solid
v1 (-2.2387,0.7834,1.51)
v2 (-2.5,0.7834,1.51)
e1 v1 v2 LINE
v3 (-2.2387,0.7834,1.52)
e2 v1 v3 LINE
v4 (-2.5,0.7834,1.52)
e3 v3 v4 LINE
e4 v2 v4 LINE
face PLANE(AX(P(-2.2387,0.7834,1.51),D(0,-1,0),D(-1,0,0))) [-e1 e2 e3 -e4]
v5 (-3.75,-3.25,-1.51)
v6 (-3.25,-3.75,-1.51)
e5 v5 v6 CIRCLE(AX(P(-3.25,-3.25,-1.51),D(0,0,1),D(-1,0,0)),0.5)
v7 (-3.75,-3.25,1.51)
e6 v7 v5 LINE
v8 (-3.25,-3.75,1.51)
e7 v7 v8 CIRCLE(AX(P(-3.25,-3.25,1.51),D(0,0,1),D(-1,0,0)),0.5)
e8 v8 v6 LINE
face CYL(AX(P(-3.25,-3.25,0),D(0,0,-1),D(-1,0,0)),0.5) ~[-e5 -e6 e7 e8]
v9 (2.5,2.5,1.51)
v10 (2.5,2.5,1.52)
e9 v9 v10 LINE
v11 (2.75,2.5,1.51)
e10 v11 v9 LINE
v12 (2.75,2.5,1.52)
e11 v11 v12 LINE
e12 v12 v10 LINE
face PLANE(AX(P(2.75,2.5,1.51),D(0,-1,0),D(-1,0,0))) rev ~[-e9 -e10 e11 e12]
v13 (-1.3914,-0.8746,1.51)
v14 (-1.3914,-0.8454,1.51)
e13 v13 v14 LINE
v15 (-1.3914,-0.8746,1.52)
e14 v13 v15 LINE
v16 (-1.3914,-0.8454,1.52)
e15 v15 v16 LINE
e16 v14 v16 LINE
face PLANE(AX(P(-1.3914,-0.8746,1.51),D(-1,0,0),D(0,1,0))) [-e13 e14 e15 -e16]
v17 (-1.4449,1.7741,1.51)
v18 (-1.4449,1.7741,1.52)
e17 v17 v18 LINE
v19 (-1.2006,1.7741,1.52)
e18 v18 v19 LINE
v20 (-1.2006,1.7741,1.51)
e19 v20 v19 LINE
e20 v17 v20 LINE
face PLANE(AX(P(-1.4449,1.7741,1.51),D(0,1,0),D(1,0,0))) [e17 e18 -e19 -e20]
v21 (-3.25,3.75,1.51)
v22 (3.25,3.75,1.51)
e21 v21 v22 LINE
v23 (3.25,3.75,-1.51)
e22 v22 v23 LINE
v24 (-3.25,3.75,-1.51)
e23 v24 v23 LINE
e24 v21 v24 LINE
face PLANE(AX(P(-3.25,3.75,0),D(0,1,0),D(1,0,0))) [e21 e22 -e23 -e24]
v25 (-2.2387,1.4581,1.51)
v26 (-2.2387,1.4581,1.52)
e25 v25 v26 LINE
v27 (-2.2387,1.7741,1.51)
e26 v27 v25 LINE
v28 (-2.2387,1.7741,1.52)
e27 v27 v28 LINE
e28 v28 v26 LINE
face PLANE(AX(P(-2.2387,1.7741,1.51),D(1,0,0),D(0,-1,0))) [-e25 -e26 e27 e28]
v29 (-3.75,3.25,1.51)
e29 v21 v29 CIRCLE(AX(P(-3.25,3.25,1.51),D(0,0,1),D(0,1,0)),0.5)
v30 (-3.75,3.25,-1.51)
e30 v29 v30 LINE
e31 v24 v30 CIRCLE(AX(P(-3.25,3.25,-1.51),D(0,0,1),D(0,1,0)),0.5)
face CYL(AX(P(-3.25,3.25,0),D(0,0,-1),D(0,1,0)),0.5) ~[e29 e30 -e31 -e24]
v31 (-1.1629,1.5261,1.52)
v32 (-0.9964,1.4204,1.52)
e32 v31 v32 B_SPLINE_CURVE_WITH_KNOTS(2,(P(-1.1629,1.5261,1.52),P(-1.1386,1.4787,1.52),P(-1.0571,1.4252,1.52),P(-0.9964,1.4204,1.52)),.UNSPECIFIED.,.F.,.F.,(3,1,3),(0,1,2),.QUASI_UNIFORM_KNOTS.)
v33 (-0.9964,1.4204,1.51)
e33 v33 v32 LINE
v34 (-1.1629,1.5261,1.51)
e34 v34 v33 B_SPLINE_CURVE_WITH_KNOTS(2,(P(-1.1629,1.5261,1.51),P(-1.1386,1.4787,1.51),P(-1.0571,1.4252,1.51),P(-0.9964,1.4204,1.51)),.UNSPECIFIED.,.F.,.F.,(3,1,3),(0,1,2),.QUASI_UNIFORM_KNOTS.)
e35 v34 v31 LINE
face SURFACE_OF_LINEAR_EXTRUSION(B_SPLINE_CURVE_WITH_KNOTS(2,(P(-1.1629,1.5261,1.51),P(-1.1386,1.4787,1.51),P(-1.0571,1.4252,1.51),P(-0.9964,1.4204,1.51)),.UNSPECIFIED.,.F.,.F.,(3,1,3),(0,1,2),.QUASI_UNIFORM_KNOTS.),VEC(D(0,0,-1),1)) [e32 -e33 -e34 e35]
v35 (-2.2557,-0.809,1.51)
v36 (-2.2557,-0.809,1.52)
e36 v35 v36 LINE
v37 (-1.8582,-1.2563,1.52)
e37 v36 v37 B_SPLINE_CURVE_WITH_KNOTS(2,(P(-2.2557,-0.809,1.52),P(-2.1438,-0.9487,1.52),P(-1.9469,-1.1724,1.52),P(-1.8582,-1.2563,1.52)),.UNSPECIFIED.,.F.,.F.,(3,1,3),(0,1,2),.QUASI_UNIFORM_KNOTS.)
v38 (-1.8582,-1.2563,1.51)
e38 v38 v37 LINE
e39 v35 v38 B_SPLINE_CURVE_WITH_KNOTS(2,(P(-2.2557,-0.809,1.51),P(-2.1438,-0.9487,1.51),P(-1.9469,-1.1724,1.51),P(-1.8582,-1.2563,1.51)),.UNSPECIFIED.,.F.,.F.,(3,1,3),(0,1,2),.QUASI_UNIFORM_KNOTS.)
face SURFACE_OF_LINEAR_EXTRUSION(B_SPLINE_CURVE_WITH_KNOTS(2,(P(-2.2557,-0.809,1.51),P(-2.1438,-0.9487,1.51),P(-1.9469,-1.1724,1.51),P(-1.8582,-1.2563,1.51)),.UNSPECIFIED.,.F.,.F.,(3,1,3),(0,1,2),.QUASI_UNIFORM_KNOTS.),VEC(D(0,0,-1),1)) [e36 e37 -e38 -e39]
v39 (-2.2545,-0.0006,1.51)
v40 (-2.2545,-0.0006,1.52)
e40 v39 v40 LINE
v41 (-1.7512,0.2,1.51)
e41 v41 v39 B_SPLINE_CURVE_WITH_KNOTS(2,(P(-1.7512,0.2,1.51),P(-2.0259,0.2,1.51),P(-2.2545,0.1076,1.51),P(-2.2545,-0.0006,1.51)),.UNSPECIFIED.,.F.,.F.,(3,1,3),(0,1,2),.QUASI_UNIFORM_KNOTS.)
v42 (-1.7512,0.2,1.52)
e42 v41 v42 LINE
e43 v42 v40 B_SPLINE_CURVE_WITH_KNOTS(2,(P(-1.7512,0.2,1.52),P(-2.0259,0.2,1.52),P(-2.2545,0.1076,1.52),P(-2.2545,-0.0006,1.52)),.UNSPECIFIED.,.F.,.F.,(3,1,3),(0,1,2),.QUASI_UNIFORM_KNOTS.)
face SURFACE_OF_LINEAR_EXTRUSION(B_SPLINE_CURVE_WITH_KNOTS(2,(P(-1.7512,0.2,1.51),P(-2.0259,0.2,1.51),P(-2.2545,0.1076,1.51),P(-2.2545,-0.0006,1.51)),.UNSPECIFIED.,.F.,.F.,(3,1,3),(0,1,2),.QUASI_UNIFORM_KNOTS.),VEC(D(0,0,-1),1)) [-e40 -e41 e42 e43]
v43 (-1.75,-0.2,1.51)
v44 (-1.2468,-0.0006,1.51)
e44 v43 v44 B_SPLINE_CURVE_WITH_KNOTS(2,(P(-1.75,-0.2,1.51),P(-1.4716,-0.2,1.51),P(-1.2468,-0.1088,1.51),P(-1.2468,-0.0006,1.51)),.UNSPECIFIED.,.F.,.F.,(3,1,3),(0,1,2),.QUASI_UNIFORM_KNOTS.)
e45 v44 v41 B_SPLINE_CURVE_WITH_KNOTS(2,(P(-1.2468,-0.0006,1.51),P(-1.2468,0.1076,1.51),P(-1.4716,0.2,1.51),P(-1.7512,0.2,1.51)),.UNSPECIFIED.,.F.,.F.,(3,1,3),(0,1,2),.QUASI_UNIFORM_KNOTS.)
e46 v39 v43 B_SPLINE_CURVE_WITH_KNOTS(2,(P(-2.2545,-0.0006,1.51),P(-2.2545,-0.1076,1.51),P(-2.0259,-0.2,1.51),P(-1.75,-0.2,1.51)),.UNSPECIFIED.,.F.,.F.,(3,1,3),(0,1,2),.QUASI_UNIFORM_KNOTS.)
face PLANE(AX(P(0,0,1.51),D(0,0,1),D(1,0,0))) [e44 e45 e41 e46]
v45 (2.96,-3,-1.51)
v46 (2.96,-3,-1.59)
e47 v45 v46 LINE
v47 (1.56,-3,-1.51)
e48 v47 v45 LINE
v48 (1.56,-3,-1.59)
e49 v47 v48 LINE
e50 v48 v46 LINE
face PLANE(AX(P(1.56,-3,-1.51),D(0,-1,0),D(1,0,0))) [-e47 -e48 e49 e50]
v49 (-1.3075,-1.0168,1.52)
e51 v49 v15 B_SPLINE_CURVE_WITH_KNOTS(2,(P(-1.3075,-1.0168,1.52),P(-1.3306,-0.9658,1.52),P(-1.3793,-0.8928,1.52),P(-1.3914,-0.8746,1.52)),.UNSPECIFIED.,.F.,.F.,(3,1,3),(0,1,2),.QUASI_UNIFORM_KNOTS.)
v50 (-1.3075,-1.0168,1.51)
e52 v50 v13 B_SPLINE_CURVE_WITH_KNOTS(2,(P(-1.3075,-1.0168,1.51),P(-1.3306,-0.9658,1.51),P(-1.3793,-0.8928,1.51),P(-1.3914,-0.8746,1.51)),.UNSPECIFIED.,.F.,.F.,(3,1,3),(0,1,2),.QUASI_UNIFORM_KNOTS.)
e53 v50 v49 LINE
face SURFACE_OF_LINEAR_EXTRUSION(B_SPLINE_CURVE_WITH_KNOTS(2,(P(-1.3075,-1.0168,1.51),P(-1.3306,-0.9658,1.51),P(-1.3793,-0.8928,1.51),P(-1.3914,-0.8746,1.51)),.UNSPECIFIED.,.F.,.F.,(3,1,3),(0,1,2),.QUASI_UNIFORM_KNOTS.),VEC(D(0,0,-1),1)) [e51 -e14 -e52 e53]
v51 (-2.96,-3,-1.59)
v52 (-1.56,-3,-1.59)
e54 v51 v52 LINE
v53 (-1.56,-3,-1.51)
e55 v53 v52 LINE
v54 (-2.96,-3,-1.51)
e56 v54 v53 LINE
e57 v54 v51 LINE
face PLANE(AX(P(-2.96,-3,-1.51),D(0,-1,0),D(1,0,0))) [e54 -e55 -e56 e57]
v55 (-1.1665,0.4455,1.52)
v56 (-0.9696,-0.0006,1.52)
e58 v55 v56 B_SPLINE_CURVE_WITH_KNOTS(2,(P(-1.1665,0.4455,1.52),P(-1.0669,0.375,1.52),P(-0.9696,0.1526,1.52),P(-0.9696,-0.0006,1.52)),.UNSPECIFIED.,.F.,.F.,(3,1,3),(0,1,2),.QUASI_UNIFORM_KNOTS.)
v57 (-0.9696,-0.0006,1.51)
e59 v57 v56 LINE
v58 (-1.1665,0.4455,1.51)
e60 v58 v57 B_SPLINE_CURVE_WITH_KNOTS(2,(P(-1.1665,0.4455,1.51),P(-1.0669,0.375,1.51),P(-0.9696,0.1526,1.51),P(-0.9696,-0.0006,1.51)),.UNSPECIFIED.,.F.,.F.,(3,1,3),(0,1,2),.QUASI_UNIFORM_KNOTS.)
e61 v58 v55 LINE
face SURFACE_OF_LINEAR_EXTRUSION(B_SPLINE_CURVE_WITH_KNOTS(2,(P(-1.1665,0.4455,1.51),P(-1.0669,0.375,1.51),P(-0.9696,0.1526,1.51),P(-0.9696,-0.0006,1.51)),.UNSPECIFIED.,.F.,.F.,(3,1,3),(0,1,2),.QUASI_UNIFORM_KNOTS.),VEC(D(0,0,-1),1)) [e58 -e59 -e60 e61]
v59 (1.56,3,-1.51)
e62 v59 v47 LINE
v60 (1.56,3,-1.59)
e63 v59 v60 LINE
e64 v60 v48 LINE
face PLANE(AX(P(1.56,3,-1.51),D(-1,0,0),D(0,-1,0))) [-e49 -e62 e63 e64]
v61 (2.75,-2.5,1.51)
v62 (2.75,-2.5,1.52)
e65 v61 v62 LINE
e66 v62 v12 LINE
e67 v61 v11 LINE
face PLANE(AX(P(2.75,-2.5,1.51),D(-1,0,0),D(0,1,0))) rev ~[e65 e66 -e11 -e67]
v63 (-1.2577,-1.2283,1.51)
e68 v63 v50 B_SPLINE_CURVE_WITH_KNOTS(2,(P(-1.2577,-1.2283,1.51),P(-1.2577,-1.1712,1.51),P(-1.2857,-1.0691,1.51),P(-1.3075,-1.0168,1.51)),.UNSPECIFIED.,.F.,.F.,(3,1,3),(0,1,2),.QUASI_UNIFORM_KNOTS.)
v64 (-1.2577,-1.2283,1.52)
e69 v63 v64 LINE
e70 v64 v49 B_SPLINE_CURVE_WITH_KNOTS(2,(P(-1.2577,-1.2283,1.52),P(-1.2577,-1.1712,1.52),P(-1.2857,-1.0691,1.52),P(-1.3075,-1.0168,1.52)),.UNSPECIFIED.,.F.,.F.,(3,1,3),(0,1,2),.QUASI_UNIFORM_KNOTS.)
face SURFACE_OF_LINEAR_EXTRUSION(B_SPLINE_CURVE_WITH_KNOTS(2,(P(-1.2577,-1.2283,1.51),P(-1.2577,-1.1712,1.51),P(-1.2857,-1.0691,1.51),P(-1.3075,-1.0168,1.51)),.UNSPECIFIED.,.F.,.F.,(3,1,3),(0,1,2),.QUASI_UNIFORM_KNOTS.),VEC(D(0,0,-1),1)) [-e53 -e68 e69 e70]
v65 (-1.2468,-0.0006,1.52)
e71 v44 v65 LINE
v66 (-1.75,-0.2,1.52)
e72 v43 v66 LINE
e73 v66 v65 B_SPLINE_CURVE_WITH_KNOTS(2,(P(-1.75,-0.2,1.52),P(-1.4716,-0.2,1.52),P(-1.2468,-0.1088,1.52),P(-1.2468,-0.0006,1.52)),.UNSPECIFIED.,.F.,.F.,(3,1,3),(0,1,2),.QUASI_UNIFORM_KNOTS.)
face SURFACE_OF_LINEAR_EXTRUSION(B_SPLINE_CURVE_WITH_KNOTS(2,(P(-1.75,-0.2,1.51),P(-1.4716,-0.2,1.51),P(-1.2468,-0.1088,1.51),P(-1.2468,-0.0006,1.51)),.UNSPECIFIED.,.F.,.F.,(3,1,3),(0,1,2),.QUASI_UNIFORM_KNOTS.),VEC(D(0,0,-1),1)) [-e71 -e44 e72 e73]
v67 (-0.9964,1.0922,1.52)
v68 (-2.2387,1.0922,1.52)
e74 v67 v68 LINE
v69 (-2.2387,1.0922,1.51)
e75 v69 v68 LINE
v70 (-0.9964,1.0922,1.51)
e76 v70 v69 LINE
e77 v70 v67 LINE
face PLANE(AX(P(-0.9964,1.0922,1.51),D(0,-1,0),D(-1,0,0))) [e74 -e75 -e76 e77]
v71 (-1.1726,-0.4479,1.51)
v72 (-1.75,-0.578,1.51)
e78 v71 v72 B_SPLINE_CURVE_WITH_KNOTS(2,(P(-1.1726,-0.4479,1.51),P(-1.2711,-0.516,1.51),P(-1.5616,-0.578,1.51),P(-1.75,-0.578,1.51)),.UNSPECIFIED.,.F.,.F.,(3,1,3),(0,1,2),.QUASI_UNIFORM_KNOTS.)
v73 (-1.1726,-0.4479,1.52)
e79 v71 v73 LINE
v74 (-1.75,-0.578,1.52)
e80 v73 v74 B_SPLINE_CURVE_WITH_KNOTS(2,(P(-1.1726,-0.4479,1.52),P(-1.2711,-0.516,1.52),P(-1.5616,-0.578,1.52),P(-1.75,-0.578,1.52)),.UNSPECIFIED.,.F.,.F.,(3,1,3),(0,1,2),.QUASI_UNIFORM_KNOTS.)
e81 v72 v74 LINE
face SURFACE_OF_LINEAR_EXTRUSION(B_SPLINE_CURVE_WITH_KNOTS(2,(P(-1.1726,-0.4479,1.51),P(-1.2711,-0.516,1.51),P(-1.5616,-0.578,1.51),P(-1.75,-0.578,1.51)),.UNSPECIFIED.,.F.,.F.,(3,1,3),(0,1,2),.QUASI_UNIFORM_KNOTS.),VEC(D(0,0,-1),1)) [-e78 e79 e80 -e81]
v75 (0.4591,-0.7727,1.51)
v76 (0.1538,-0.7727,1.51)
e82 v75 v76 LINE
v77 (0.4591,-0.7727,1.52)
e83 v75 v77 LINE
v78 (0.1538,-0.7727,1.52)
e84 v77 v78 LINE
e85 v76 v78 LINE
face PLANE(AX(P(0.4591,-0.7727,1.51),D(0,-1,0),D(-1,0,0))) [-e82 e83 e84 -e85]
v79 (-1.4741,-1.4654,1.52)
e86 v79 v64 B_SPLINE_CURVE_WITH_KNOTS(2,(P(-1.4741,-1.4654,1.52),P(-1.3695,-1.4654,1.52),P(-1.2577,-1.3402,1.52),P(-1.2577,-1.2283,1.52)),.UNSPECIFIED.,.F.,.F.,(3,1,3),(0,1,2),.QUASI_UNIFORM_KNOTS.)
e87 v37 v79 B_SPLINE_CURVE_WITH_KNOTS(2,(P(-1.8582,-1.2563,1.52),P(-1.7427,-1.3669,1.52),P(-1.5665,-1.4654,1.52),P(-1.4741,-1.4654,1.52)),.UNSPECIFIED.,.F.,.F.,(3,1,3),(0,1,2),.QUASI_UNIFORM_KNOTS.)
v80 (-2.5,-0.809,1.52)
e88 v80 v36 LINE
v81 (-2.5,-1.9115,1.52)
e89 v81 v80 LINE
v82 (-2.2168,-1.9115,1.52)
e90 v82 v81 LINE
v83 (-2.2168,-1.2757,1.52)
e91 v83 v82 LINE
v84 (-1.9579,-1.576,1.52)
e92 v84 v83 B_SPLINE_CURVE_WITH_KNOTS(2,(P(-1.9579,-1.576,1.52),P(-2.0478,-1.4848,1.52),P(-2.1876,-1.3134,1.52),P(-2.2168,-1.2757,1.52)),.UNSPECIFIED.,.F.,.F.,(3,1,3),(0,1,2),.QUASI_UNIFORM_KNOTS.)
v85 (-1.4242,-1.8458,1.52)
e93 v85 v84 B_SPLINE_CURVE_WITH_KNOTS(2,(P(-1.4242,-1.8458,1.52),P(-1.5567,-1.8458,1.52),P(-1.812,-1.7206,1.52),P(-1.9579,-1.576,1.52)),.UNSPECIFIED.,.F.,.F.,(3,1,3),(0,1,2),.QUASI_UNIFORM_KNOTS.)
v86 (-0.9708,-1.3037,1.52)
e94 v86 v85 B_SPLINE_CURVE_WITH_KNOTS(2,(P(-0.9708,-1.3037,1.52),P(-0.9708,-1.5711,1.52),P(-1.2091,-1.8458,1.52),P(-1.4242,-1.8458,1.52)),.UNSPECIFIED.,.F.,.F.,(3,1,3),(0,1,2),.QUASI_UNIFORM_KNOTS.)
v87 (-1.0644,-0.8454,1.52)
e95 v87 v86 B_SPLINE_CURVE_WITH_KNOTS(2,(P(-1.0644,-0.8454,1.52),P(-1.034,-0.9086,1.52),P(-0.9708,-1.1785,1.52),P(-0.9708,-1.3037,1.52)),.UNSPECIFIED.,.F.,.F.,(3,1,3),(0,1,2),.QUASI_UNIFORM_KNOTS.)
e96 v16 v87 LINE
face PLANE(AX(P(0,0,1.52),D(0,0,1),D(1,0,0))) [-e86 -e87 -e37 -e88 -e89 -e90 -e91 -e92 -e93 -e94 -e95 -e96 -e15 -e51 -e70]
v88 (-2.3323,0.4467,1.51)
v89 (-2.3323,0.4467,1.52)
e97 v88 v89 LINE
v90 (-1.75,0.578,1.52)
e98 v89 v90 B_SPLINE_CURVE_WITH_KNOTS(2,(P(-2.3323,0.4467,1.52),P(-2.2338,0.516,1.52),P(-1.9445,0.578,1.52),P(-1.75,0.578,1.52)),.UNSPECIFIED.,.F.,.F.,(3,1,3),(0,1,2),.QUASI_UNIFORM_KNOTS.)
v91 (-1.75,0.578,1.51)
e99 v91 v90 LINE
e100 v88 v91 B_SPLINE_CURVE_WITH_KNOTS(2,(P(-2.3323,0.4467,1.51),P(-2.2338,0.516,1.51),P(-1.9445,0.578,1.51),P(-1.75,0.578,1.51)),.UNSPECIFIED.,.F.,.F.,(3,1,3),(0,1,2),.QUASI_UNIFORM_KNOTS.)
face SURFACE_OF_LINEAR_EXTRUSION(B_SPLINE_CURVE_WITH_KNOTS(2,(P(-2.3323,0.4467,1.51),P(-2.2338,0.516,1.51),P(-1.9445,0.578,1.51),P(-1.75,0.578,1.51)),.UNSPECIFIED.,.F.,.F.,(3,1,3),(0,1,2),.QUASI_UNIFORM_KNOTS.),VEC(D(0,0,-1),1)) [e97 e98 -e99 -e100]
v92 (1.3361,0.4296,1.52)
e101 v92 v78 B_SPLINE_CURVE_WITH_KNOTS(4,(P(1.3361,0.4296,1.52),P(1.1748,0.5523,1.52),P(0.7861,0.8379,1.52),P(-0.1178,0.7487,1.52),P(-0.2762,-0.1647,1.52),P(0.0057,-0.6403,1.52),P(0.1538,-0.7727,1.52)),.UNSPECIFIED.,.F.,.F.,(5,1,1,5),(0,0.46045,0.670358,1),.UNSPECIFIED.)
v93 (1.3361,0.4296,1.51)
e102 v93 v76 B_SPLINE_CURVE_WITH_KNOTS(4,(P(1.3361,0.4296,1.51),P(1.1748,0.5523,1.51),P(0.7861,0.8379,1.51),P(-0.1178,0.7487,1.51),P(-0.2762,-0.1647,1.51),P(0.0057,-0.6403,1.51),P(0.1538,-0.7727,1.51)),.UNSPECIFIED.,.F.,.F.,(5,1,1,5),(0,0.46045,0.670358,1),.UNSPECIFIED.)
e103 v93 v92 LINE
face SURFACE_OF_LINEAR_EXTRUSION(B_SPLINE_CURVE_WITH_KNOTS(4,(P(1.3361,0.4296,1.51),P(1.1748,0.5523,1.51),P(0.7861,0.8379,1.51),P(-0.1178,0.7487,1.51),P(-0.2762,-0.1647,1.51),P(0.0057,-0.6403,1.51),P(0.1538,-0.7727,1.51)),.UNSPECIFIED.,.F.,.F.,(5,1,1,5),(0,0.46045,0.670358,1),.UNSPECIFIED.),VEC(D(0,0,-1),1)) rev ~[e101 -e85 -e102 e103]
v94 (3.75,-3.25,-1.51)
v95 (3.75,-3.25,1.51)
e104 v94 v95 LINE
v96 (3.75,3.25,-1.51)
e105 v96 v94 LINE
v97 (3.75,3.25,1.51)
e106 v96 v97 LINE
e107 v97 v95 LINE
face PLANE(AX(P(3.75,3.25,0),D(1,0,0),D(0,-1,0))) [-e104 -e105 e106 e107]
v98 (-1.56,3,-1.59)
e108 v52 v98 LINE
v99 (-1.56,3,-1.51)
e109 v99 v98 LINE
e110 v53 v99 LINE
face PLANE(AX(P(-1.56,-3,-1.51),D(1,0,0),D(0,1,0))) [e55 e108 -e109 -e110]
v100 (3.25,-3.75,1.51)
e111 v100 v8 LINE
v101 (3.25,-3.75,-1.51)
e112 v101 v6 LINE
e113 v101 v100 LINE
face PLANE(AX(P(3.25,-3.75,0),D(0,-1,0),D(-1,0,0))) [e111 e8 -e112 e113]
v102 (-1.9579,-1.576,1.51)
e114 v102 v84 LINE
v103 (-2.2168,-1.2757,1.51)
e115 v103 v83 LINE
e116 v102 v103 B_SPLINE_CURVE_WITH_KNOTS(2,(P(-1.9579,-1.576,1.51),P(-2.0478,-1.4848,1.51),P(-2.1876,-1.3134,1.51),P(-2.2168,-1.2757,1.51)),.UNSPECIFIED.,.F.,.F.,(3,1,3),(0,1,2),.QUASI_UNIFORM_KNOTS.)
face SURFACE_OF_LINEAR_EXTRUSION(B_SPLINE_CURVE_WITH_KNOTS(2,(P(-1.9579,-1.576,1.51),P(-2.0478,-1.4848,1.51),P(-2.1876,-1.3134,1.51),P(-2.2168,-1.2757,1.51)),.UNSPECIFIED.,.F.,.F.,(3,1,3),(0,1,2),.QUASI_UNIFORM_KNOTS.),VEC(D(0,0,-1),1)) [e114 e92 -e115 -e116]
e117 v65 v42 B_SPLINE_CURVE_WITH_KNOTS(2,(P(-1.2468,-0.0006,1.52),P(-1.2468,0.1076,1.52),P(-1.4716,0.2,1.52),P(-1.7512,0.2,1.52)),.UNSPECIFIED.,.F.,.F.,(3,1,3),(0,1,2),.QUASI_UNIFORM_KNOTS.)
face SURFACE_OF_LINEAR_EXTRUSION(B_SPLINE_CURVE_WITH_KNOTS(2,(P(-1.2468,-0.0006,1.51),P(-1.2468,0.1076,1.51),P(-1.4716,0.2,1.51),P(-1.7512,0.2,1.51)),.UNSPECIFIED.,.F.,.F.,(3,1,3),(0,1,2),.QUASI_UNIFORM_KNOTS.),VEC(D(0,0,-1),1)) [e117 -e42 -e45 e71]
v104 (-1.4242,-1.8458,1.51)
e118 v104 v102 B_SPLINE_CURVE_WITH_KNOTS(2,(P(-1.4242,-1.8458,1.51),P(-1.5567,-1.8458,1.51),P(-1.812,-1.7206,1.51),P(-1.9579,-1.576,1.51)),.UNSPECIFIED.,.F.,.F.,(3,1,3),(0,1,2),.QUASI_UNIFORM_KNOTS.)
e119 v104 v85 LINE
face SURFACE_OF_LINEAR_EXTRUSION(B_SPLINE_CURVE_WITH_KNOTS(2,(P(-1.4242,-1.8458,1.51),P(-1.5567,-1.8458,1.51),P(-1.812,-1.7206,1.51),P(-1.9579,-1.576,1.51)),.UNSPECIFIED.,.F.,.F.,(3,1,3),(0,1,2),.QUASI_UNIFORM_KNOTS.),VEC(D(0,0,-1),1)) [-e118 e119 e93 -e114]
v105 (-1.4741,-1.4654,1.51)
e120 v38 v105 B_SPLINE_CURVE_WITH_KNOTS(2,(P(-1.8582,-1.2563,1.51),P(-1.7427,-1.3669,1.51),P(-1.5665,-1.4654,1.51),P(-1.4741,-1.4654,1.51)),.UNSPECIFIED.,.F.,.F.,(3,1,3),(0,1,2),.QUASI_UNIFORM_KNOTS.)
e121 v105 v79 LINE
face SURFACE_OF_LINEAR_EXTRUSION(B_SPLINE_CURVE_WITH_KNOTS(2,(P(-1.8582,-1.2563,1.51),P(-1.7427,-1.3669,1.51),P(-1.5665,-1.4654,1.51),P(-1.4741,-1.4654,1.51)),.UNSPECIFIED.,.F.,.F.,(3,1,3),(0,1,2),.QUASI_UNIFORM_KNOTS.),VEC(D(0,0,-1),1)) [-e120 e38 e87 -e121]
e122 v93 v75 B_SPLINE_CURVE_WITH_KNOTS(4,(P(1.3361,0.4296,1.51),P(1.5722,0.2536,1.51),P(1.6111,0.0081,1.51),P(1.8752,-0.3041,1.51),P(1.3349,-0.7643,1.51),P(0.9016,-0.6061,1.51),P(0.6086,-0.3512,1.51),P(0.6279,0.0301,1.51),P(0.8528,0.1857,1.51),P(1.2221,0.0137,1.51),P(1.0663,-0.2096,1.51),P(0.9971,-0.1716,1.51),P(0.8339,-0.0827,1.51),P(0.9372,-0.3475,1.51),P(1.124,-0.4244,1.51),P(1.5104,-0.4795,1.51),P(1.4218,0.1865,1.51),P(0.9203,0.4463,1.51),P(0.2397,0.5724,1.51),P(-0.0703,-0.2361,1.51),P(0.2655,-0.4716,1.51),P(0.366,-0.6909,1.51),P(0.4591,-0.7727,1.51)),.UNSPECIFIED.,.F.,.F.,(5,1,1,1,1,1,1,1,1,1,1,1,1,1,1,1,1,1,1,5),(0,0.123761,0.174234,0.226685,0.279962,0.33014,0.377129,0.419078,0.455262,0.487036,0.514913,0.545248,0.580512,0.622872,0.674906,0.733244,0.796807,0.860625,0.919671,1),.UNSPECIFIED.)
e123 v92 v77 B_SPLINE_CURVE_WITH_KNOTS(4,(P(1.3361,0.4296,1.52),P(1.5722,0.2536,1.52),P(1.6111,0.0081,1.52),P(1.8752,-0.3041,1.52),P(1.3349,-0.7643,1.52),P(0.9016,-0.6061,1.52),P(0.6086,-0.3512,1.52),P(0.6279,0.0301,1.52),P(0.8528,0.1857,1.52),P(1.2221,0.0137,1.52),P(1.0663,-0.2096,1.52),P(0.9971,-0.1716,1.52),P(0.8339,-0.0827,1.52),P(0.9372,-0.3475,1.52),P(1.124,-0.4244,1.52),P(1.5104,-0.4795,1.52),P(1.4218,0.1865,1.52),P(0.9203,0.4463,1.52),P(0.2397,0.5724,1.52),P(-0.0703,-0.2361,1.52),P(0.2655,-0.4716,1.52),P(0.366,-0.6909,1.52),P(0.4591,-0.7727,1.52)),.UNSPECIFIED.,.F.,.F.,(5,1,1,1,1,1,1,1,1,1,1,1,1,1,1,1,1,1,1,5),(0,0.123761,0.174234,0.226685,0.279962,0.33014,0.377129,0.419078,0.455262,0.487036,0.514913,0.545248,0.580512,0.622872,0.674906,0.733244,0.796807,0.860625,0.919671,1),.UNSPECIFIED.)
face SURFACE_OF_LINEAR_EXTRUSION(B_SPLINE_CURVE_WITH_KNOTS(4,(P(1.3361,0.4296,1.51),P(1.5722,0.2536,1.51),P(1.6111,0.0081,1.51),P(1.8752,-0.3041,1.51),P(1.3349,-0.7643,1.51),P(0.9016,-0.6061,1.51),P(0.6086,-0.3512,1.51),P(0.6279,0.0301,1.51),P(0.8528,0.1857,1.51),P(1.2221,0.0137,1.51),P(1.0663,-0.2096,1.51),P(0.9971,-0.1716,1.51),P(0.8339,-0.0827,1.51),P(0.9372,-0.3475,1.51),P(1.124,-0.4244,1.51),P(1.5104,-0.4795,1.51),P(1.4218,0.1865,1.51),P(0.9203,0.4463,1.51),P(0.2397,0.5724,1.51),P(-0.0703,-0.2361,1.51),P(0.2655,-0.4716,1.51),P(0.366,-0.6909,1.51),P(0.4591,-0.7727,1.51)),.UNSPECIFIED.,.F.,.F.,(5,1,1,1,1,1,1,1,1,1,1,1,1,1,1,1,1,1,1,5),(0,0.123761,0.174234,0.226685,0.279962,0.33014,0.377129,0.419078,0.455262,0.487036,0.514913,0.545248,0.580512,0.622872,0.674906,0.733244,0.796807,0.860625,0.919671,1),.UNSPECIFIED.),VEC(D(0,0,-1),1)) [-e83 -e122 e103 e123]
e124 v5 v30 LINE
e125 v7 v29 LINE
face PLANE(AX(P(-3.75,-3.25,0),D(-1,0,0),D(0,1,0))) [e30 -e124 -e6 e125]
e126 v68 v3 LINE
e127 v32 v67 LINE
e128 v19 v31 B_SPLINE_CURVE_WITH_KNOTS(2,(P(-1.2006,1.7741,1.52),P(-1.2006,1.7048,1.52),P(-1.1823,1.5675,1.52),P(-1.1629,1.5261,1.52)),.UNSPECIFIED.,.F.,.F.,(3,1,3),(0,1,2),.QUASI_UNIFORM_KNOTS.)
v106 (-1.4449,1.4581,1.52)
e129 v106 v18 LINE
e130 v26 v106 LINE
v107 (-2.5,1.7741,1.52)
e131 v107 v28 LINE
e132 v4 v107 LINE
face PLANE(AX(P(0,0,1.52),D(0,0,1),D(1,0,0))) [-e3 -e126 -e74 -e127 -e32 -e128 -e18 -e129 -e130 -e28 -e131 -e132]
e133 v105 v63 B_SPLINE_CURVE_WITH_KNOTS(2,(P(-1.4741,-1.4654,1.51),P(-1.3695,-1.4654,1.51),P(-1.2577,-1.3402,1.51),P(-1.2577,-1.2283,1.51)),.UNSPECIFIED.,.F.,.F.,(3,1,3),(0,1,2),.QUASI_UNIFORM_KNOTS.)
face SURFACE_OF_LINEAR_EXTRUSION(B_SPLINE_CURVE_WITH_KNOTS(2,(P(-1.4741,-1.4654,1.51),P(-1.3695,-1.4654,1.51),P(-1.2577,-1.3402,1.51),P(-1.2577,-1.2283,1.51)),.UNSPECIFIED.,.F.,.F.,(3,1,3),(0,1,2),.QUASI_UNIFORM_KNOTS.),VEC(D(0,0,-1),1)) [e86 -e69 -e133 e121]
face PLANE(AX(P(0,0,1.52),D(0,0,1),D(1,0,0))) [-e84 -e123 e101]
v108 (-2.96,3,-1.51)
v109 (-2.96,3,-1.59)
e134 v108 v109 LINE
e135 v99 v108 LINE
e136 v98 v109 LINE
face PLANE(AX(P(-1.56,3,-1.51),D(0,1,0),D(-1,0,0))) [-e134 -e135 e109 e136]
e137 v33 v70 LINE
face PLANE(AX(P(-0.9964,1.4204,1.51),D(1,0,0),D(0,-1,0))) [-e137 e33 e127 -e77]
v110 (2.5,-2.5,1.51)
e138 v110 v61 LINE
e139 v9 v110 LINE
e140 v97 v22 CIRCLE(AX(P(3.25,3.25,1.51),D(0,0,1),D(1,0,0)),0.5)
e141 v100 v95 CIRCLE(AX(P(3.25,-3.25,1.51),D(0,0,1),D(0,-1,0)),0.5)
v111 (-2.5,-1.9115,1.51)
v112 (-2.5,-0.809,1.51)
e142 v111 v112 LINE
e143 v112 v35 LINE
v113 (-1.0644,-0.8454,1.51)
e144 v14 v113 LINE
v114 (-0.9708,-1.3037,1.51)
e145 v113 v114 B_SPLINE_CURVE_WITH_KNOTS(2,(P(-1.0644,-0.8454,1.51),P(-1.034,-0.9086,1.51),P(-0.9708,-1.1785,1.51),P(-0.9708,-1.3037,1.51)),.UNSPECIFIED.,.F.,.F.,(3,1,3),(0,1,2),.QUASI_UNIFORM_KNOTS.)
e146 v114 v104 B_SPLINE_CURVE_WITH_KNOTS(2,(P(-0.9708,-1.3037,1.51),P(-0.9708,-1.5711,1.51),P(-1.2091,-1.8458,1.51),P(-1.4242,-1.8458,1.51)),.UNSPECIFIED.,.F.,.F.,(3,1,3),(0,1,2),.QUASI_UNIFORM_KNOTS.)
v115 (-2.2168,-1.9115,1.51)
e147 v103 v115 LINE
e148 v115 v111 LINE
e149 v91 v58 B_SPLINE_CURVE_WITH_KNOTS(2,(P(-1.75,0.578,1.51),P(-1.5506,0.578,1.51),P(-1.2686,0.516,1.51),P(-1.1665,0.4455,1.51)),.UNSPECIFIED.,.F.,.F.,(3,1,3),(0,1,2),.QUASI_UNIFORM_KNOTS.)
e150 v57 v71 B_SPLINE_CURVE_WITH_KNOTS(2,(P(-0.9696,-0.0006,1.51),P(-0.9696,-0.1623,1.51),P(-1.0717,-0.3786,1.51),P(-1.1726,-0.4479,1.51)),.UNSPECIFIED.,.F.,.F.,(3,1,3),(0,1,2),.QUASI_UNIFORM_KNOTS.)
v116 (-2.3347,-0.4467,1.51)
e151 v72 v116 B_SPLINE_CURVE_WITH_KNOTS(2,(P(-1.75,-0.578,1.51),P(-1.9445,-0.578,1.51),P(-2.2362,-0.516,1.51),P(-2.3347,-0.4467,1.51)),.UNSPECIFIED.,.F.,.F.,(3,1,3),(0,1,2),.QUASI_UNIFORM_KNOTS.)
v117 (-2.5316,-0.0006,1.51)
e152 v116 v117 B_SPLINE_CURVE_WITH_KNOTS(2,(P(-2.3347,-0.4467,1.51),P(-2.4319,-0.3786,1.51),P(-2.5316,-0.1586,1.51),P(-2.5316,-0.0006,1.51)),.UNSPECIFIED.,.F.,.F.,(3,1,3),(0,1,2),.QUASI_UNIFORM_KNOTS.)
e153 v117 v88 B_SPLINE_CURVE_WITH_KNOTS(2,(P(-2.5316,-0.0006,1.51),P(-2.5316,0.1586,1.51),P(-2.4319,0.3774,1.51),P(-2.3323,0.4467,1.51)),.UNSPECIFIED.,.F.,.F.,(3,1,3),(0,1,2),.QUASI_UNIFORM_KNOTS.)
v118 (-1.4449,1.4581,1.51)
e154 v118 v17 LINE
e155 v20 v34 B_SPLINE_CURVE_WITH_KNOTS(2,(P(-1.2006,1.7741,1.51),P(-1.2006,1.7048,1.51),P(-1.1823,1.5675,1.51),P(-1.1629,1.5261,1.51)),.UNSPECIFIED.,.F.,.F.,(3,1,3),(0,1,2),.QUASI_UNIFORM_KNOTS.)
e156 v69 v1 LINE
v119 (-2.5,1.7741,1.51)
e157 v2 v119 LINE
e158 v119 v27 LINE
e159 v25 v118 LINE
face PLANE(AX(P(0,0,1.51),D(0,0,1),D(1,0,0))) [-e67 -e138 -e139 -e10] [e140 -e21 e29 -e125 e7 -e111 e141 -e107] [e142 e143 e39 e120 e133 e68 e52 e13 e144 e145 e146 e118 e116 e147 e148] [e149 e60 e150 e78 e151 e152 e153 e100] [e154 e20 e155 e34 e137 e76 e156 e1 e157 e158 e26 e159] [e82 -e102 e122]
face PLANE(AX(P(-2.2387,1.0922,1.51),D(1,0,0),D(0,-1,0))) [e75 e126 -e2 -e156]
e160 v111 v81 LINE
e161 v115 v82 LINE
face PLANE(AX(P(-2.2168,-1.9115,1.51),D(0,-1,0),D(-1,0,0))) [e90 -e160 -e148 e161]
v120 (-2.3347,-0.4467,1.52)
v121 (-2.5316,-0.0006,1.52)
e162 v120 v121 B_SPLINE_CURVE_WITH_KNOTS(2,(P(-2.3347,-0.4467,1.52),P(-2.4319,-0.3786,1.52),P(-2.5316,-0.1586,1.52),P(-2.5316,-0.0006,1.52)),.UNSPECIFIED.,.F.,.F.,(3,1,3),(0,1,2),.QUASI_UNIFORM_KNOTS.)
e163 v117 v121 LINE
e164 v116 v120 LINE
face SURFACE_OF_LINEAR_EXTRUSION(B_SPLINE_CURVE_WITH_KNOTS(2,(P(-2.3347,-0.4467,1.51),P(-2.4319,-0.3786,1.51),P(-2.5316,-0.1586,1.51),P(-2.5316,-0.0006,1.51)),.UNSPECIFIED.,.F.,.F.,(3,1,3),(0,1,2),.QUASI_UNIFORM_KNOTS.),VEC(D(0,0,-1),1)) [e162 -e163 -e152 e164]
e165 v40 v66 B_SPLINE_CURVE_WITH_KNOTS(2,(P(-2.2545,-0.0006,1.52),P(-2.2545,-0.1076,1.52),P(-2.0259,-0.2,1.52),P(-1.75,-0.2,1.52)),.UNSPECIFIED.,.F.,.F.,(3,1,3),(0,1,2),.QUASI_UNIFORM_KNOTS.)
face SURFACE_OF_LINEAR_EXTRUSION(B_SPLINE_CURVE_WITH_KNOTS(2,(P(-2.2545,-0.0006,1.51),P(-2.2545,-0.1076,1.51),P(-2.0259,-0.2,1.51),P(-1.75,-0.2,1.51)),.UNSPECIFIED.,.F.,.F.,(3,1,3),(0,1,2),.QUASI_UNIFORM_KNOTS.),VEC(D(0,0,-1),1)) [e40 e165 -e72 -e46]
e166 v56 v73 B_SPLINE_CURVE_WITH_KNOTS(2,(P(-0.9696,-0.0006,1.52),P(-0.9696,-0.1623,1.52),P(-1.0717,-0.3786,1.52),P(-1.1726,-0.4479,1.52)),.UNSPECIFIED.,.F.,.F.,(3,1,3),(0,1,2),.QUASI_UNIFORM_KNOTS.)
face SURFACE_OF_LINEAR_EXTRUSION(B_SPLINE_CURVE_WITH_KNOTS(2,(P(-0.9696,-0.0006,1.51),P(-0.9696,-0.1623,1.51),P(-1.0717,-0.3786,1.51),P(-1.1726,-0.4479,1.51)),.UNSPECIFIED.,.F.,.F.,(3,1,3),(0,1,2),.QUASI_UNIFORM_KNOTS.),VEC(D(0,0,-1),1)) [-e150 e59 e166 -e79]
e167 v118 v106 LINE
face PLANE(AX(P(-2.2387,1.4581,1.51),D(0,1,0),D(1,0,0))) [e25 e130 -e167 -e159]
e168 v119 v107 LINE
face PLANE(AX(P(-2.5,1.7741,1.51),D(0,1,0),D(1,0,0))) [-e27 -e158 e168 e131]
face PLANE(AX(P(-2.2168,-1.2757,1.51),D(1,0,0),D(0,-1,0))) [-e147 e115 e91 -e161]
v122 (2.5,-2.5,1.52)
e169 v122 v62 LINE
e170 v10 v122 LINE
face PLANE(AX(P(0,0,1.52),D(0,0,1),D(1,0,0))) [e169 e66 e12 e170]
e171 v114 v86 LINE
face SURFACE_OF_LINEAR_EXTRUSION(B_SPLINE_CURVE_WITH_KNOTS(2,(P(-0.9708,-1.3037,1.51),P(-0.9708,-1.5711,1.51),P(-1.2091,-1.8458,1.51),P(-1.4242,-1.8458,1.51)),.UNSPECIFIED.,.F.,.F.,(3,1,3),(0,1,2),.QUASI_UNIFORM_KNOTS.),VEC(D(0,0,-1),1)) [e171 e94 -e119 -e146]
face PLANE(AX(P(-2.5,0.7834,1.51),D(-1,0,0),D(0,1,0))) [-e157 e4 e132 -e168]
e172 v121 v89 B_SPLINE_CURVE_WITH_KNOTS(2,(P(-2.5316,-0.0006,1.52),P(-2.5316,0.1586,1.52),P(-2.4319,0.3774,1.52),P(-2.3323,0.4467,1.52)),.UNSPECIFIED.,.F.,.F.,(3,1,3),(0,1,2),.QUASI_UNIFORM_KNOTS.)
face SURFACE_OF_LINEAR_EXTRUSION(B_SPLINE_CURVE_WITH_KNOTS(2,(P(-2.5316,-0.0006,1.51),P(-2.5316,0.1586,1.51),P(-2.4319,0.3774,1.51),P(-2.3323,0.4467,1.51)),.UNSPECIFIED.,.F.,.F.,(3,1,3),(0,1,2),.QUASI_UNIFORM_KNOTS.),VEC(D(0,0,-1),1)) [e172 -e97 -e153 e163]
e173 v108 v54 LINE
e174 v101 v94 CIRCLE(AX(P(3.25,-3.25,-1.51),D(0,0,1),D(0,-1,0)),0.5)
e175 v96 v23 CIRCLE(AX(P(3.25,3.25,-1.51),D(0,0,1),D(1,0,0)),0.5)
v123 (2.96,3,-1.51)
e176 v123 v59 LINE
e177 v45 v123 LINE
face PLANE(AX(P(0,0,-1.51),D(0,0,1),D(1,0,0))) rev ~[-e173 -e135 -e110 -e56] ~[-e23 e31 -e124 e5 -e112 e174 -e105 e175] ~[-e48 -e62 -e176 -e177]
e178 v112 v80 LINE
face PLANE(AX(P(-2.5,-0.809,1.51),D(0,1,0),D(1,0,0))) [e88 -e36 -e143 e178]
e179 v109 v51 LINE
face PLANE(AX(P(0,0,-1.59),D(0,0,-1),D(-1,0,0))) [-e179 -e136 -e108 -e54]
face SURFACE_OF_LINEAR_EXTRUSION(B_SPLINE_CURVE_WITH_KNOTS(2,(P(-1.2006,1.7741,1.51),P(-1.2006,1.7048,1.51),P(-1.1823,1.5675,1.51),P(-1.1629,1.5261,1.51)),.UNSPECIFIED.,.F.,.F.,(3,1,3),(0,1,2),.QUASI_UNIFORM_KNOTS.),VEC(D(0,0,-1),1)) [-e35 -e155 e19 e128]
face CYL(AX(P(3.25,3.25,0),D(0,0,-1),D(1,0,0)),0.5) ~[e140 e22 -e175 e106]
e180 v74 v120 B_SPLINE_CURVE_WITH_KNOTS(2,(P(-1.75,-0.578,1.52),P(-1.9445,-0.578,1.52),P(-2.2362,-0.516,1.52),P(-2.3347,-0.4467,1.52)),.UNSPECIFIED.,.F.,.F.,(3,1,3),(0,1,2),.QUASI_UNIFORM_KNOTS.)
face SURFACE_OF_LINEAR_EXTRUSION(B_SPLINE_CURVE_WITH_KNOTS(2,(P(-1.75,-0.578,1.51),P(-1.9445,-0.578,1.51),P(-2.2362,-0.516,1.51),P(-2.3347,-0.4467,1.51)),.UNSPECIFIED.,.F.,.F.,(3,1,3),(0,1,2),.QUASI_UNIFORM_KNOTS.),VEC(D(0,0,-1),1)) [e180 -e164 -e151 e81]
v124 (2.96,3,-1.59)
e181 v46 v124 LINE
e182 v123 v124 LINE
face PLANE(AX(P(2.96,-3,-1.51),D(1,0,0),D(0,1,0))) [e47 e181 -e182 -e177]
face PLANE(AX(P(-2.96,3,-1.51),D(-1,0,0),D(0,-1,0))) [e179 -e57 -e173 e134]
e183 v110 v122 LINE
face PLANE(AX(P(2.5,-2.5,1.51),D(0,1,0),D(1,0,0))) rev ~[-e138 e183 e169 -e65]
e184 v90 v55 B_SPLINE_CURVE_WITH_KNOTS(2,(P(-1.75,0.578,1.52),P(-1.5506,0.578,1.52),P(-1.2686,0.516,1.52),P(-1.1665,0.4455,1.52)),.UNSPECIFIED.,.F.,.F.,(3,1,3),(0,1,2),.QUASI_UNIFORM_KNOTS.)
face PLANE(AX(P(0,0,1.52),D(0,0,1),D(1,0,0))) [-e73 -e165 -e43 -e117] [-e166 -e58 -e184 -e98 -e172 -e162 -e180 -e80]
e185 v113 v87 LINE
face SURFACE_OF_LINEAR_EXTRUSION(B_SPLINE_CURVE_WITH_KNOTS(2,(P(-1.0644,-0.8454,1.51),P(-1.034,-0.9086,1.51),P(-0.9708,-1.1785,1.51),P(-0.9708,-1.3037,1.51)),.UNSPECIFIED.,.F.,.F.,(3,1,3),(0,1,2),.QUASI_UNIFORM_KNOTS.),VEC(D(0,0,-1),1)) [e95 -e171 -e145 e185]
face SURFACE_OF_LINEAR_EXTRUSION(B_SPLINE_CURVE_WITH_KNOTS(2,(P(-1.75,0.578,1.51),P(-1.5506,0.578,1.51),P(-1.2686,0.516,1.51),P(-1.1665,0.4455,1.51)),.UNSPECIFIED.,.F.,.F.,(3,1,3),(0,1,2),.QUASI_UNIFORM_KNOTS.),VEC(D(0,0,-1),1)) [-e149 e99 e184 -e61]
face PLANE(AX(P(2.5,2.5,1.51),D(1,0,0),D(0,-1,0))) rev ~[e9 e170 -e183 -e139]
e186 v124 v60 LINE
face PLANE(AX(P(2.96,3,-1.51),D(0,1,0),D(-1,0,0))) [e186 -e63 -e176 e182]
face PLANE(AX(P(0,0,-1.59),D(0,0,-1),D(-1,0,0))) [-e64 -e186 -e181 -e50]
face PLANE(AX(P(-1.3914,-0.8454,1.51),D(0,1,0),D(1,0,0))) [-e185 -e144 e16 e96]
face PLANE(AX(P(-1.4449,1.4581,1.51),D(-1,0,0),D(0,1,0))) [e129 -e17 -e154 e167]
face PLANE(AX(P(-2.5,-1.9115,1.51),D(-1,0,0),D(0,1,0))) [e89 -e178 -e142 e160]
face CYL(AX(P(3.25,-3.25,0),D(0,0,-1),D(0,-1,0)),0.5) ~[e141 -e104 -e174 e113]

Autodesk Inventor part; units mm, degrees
ref_plane "YZ Plane" through (0, 0, 0) normal (1, 0, 0) x (0, 1, 0)
ref_plane "XZ Plane" through (0, 0, 0) normal (0, 1, 0) x (-1, 0, 0)
ref_plane "XY Plane" through (0, 0, 0) normal (0, 0, 1) x (1, 0, 0)
sketch "Sketch1" plane through (0, 0, 0) normal (0, 0, 1) x (1, 0, 0)
  line L0 (3.25, -3.75) -> (-3.25, -3.75)
  line L1 (-3.75, -3.25) -> (-3.75, 3.25)
  line L2 (-3.25, 3.75) -> (3.25, 3.75)
  line L3 (3.75, 3.25) -> (3.75, -3.25)
  line L4 (3.75, -3.75) -> (-3.75, 3.75) construction
  line L5 (-3.75, -3.75) -> (3.75, 3.75) construction
  arc A0 (-3.25, 3.75) -> (-3.75, 3.25) centre (-3.25, 3.25) ccw
  arc A1 (-3.75, -3.25) -> (-3.25, -3.75) centre (-3.25, -3.25) ccw
  arc A2 (3.25, -3.75) -> (3.75, -3.25) centre (3.25, -3.25) ccw
  arc A3 (3.75, 3.25) -> (3.25, 3.75) centre (3.25, 3.25) ccw
  point P0 (0, 0)
  dimension "d0" = 7.5
  dimension "d1" = 0.5
extrude "Extrusion1" add sketch "Sketch1" along normal mid plane 3.02
sketch "Sketch2" plane through (0, 0, -1.51) normal (0, 0, -1) x (-1, 0, 0)
  line L0 (2.96, -3) -> (1.56, -3)
  line L1 (1.56, -3) -> (1.56, 3)
  line L2 (1.56, 3) -> (2.96, 3)
  line L3 (2.96, 3) -> (2.96, -3)
  line L4 (-1.56, -3) -> (-2.96, -3)
  line L5 (-2.96, -3) -> (-2.96, 3)
  line L6 (-2.96, 3) -> (-1.56, 3)
  line L7 (-1.56, 3) -> (-1.56, -3)
  line L8 (0, -3) -> (0, 3) construction
  point P0 (0, 0)
  point P1 (0, 0)
  dimension "d4" = 1.4
  dimension "d5" = 6
  dimension "d6" = 3.12
extrude "Extrusion2" add sketch "Sketch2" along normal blind 0.08
sketch "Sketch3" plane through (0, 0, 1.51) normal (0, 0, 1) x (1, 0, 0)
  line L0 (2.75, 2.5) -> (2.5, 2.5)
  line L1 (2.5, 2.5) -> (2.5, -2.5)
  line L2 (2.5, -2.5) -> (2.75, -2.5)
  line L3 (2.75, -2.5) -> (2.75, 2.5)
  line L4 (-2.5, 2.5) -> (-2.5, -2.5) construction
  spline S0 degree 4 poles (1.3361, 0.4296) (1.5722, 0.2536) (1.6111, 0.0081) (1.8752, -0.3041) (1.3349, -0.7643) (0.9016, -0.6061) (0.6086, -0.3512) (0.6279, 0.0301) (0.8528, 0.1857) (1.2221, 0.0137) (1.0663, -0.2096) (0.9971, -0.1716) (0.8339, -0.0827) (0.9372, -0.3475) (1.124, -0.4244) (1.5104, -0.4795) (1.4218, 0.1865) (0.9203, 0.4463) (0.2397, 0.5724) (-0.0703, -0.2361) (0.2655, -0.4716) (0.366, -0.6909) (0.4591, -0.7727) knots 0 0 0 0 0 0.123761 0.174234 0.226685 0.279962 0.33014 0.377129 0.419078 0.455262 0.487036 0.514913 0.545248 0.580512 0.622872 0.674906 0.733244 0.796807 0.860625 0.919671 1 1 1 1 1
  line L5 (0.3021, -0.6347) -> (0.6161, -0.9108) construction
  arc A0 (0.3672, -0.6474) -> (0.5952, -0.8479) centre (0.698, -0.5011) ccw construction
  spline S1 degree 4 poles (1.3361, 0.4296) (1.1748, 0.5523) (0.7861, 0.8379) (-0.1178, 0.7487) (-0.2762, -0.1647) (0.0057, -0.6403) (0.1538, -0.7727) knots 0 0 0 0 0 0.46045 0.670358 1 1 1 1 1
  line L6 (-0.0024, -0.6331) -> (0.3101, -0.9124) construction
  arc A1 (0.0518, -0.6477) -> (0.2895, -0.8602) centre (0.4983, -0.3874) ccw construction
  line L7 (0.4591, -0.7727) -> (0.1538, -0.7727)
  line L8 (1.4819, -0.2272) -> (1.2942, 0.2269) construction
  arc A2 (1.4343, -0.1846) -> (1.2905, 0.1631) centre (0.7871, -0.2485) ccw construction
  line L9 (-2.5, 0.7834) -> (-2.5, 1.7741)
  line L10 (-2.5, 1.7741) -> (-2.2387, 1.7741)
  line L11 (-2.2387, 1.7741) -> (-2.2387, 1.4581)
  line L12 (-2.2387, 1.4581) -> (-1.4449, 1.4581)
  line L13 (-1.4449, 1.4581) -> (-1.4449, 1.7741)
  line L14 (-1.4449, 1.7741) -> (-1.2006, 1.7741)
  spline S2 degree 2 poles (-1.2006, 1.7741) (-1.2006, 1.7048) (-1.1823, 1.5675) (-1.1629, 1.5261) knots 0 0 0 1 2 2 2
  spline S3 degree 2 poles (-1.1629, 1.5261) (-1.1386, 1.4787) (-1.0571, 1.4252) (-0.9964, 1.4204) knots 0 0 0 1 2 2 2
  line L15 (-0.9964, 1.4204) -> (-0.9964, 1.0922)
  line L16 (-0.9964, 1.0922) -> (-2.2387, 1.0922)
  line L17 (-2.2387, 1.0922) -> (-2.2387, 0.7834)
  line L18 (-2.2387, 0.7834) -> (-2.5, 0.7834)
  spline S4 degree 2 poles (-1.75, -0.578) (-1.9445, -0.578) (-2.2362, -0.516) (-2.3347, -0.4467) knots 0 0 0 1 2 2 2
  spline S5 degree 2 poles (-2.3347, -0.4467) (-2.4319, -0.3786) (-2.5316, -0.1586) (-2.5316, -0.0006) knots 0 0 0 1 2 2 2
  spline S6 degree 2 poles (-2.5316, -0.0006) (-2.5316, 0.1586) (-2.4319, 0.3774) (-2.3323, 0.4467) knots 0 0 0 1 2 2 2
  spline S7 degree 2 poles (-2.3323, 0.4467) (-2.2338, 0.516) (-1.9445, 0.578) (-1.75, 0.578) knots 0 0 0 1 2 2 2
  spline S8 degree 2 poles (-1.75, 0.578) (-1.5506, 0.578) (-1.2686, 0.516) (-1.1665, 0.4455) knots 0 0 0 1 2 2 2
  spline S9 degree 2 poles (-1.1665, 0.4455) (-1.0669, 0.375) (-0.9696, 0.1526) (-0.9696, -0.0006) knots 0 0 0 1 2 2 2
  spline S10 degree 2 poles (-0.9696, -0.0006) (-0.9696, -0.1623) (-1.0717, -0.3786) (-1.1726, -0.4479) knots 0 0 0 1 2 2 2
  spline S11 degree 2 poles (-1.1726, -0.4479) (-1.2711, -0.516) (-1.5616, -0.578) (-1.75, -0.578) knots 0 0 0 1 2 2 2
  spline S12 degree 2 poles (-1.75, -0.2) (-1.4716, -0.2) (-1.2468, -0.1088) (-1.2468, -0.0006) knots 0 0 0 1 2 2 2
  spline S13 degree 2 poles (-1.2468, -0.0006) (-1.2468, 0.1076) (-1.4716, 0.2) (-1.7512, 0.2) knots 0 0 0 1 2 2 2
  spline S14 degree 2 poles (-1.7512, 0.2) (-2.0259, 0.2) (-2.2545, 0.1076) (-2.2545, -0.0006) knots 0 0 0 1 2 2 2
  spline S15 degree 2 poles (-2.2545, -0.0006) (-2.2545, -0.1076) (-2.0259, -0.2) (-1.75, -0.2) knots 0 0 0 1 2 2 2
  line L19 (-2.5, -1.9115) -> (-2.5, -0.809)
  line L20 (-2.5, -0.809) -> (-2.2557, -0.809)
  spline S16 degree 2 poles (-2.2557, -0.809) (-2.1438, -0.9487) (-1.9469, -1.1724) (-1.8582, -1.2563) knots 0 0 0 1 2 2 2
  spline S17 degree 2 poles (-1.8582, -1.2563) (-1.7427, -1.3669) (-1.5665, -1.4654) (-1.4741, -1.4654) knots 0 0 0 1 2 2 2
  spline S18 degree 2 poles (-1.4741, -1.4654) (-1.3695, -1.4654) (-1.2577, -1.3402) (-1.2577, -1.2283) knots 0 0 0 1 2 2 2
  spline S19 degree 2 poles (-1.2577, -1.2283) (-1.2577, -1.1712) (-1.2857, -1.0691) (-1.3075, -1.0168) knots 0 0 0 1 2 2 2
  spline S20 degree 2 poles (-1.3075, -1.0168) (-1.3306, -0.9658) (-1.3793, -0.8928) (-1.3914, -0.8746) knots 0 0 0 1 2 2 2
  line L21 (-1.3914, -0.8746) -> (-1.3914, -0.8454)
  line L22 (-1.3914, -0.8454) -> (-1.0644, -0.8454)
  spline S21 degree 2 poles (-1.0644, -0.8454) (-1.034, -0.9086) (-0.9708, -1.1785) (-0.9708, -1.3037) knots 0 0 0 1 2 2 2
  spline S22 degree 2 poles (-0.9708, -1.3037) (-0.9708, -1.5711) (-1.2091, -1.8458) (-1.4242, -1.8458) knots 0 0 0 1 2 2 2
  spline S23 degree 2 poles (-1.4242, -1.8458) (-1.5567, -1.8458) (-1.812, -1.7206) (-1.9579, -1.576) knots 0 0 0 1 2 2 2
  spline S24 degree 2 poles (-1.9579, -1.576) (-2.0478, -1.4848) (-2.1876, -1.3134) (-2.2168, -1.2757) knots 0 0 0 1 2 2 2
  line L23 (-2.2168, -1.2757) -> (-2.2168, -1.9115)
  line L24 (-2.2168, -1.9115) -> (-2.5, -1.9115)
  point P0 (0, 0)
  point P1 (-2.5, 0)
  point P2 (2.5, 0)
  point P3 (1.5897, 0.1222)
  point P4 (1.6836, -0.1324)
  point P5 (1.6666, -0.392)
  point P6 (1.348, -0.657)
  point P7 (0.9064, -0.5696)
  point P8 (0.6595, -0.2864)
  point P9 (0.6874, 0.0129)
  point P10 (0.9152, 0.1153)
  point P11 (1.131, -0.0524)
  point P12 (1.0559, -0.1747)
  point P13 (0.9784, -0.1613)
  point P14 (0.8944, -0.1391)
  point P15 (0.915, -0.2539)
  point P16 (1.1067, -0.4034)
  point P17 (1.3658, -0.3897)
  point P18 (1.3881, -0.0001)
  point P19 (0.911, 0.405)
  point P20 (0.2939, 0.3734)
  point P21 (0.0837, -0.1519)
  point P22 (0.2608, -0.5163)
  point P23 (1.0376, 0.6174)
  point P24 (0.5316, 0.7174)
  point P25 (0.0302, 0.4881)
  point P26 (-0.1564, -0.1329)
  dimension "d9" = 5
  dimension "d10" = 0.25
  dimension "d11" = 2.5
  dimension "d12" = 2.5
extrude "Extrusion3" add sketch "Sketch3" along normal blind 0.01
equation "\"d12\" = d11"
properties part number "Inductor_7575" material "Steel, Carbon"
